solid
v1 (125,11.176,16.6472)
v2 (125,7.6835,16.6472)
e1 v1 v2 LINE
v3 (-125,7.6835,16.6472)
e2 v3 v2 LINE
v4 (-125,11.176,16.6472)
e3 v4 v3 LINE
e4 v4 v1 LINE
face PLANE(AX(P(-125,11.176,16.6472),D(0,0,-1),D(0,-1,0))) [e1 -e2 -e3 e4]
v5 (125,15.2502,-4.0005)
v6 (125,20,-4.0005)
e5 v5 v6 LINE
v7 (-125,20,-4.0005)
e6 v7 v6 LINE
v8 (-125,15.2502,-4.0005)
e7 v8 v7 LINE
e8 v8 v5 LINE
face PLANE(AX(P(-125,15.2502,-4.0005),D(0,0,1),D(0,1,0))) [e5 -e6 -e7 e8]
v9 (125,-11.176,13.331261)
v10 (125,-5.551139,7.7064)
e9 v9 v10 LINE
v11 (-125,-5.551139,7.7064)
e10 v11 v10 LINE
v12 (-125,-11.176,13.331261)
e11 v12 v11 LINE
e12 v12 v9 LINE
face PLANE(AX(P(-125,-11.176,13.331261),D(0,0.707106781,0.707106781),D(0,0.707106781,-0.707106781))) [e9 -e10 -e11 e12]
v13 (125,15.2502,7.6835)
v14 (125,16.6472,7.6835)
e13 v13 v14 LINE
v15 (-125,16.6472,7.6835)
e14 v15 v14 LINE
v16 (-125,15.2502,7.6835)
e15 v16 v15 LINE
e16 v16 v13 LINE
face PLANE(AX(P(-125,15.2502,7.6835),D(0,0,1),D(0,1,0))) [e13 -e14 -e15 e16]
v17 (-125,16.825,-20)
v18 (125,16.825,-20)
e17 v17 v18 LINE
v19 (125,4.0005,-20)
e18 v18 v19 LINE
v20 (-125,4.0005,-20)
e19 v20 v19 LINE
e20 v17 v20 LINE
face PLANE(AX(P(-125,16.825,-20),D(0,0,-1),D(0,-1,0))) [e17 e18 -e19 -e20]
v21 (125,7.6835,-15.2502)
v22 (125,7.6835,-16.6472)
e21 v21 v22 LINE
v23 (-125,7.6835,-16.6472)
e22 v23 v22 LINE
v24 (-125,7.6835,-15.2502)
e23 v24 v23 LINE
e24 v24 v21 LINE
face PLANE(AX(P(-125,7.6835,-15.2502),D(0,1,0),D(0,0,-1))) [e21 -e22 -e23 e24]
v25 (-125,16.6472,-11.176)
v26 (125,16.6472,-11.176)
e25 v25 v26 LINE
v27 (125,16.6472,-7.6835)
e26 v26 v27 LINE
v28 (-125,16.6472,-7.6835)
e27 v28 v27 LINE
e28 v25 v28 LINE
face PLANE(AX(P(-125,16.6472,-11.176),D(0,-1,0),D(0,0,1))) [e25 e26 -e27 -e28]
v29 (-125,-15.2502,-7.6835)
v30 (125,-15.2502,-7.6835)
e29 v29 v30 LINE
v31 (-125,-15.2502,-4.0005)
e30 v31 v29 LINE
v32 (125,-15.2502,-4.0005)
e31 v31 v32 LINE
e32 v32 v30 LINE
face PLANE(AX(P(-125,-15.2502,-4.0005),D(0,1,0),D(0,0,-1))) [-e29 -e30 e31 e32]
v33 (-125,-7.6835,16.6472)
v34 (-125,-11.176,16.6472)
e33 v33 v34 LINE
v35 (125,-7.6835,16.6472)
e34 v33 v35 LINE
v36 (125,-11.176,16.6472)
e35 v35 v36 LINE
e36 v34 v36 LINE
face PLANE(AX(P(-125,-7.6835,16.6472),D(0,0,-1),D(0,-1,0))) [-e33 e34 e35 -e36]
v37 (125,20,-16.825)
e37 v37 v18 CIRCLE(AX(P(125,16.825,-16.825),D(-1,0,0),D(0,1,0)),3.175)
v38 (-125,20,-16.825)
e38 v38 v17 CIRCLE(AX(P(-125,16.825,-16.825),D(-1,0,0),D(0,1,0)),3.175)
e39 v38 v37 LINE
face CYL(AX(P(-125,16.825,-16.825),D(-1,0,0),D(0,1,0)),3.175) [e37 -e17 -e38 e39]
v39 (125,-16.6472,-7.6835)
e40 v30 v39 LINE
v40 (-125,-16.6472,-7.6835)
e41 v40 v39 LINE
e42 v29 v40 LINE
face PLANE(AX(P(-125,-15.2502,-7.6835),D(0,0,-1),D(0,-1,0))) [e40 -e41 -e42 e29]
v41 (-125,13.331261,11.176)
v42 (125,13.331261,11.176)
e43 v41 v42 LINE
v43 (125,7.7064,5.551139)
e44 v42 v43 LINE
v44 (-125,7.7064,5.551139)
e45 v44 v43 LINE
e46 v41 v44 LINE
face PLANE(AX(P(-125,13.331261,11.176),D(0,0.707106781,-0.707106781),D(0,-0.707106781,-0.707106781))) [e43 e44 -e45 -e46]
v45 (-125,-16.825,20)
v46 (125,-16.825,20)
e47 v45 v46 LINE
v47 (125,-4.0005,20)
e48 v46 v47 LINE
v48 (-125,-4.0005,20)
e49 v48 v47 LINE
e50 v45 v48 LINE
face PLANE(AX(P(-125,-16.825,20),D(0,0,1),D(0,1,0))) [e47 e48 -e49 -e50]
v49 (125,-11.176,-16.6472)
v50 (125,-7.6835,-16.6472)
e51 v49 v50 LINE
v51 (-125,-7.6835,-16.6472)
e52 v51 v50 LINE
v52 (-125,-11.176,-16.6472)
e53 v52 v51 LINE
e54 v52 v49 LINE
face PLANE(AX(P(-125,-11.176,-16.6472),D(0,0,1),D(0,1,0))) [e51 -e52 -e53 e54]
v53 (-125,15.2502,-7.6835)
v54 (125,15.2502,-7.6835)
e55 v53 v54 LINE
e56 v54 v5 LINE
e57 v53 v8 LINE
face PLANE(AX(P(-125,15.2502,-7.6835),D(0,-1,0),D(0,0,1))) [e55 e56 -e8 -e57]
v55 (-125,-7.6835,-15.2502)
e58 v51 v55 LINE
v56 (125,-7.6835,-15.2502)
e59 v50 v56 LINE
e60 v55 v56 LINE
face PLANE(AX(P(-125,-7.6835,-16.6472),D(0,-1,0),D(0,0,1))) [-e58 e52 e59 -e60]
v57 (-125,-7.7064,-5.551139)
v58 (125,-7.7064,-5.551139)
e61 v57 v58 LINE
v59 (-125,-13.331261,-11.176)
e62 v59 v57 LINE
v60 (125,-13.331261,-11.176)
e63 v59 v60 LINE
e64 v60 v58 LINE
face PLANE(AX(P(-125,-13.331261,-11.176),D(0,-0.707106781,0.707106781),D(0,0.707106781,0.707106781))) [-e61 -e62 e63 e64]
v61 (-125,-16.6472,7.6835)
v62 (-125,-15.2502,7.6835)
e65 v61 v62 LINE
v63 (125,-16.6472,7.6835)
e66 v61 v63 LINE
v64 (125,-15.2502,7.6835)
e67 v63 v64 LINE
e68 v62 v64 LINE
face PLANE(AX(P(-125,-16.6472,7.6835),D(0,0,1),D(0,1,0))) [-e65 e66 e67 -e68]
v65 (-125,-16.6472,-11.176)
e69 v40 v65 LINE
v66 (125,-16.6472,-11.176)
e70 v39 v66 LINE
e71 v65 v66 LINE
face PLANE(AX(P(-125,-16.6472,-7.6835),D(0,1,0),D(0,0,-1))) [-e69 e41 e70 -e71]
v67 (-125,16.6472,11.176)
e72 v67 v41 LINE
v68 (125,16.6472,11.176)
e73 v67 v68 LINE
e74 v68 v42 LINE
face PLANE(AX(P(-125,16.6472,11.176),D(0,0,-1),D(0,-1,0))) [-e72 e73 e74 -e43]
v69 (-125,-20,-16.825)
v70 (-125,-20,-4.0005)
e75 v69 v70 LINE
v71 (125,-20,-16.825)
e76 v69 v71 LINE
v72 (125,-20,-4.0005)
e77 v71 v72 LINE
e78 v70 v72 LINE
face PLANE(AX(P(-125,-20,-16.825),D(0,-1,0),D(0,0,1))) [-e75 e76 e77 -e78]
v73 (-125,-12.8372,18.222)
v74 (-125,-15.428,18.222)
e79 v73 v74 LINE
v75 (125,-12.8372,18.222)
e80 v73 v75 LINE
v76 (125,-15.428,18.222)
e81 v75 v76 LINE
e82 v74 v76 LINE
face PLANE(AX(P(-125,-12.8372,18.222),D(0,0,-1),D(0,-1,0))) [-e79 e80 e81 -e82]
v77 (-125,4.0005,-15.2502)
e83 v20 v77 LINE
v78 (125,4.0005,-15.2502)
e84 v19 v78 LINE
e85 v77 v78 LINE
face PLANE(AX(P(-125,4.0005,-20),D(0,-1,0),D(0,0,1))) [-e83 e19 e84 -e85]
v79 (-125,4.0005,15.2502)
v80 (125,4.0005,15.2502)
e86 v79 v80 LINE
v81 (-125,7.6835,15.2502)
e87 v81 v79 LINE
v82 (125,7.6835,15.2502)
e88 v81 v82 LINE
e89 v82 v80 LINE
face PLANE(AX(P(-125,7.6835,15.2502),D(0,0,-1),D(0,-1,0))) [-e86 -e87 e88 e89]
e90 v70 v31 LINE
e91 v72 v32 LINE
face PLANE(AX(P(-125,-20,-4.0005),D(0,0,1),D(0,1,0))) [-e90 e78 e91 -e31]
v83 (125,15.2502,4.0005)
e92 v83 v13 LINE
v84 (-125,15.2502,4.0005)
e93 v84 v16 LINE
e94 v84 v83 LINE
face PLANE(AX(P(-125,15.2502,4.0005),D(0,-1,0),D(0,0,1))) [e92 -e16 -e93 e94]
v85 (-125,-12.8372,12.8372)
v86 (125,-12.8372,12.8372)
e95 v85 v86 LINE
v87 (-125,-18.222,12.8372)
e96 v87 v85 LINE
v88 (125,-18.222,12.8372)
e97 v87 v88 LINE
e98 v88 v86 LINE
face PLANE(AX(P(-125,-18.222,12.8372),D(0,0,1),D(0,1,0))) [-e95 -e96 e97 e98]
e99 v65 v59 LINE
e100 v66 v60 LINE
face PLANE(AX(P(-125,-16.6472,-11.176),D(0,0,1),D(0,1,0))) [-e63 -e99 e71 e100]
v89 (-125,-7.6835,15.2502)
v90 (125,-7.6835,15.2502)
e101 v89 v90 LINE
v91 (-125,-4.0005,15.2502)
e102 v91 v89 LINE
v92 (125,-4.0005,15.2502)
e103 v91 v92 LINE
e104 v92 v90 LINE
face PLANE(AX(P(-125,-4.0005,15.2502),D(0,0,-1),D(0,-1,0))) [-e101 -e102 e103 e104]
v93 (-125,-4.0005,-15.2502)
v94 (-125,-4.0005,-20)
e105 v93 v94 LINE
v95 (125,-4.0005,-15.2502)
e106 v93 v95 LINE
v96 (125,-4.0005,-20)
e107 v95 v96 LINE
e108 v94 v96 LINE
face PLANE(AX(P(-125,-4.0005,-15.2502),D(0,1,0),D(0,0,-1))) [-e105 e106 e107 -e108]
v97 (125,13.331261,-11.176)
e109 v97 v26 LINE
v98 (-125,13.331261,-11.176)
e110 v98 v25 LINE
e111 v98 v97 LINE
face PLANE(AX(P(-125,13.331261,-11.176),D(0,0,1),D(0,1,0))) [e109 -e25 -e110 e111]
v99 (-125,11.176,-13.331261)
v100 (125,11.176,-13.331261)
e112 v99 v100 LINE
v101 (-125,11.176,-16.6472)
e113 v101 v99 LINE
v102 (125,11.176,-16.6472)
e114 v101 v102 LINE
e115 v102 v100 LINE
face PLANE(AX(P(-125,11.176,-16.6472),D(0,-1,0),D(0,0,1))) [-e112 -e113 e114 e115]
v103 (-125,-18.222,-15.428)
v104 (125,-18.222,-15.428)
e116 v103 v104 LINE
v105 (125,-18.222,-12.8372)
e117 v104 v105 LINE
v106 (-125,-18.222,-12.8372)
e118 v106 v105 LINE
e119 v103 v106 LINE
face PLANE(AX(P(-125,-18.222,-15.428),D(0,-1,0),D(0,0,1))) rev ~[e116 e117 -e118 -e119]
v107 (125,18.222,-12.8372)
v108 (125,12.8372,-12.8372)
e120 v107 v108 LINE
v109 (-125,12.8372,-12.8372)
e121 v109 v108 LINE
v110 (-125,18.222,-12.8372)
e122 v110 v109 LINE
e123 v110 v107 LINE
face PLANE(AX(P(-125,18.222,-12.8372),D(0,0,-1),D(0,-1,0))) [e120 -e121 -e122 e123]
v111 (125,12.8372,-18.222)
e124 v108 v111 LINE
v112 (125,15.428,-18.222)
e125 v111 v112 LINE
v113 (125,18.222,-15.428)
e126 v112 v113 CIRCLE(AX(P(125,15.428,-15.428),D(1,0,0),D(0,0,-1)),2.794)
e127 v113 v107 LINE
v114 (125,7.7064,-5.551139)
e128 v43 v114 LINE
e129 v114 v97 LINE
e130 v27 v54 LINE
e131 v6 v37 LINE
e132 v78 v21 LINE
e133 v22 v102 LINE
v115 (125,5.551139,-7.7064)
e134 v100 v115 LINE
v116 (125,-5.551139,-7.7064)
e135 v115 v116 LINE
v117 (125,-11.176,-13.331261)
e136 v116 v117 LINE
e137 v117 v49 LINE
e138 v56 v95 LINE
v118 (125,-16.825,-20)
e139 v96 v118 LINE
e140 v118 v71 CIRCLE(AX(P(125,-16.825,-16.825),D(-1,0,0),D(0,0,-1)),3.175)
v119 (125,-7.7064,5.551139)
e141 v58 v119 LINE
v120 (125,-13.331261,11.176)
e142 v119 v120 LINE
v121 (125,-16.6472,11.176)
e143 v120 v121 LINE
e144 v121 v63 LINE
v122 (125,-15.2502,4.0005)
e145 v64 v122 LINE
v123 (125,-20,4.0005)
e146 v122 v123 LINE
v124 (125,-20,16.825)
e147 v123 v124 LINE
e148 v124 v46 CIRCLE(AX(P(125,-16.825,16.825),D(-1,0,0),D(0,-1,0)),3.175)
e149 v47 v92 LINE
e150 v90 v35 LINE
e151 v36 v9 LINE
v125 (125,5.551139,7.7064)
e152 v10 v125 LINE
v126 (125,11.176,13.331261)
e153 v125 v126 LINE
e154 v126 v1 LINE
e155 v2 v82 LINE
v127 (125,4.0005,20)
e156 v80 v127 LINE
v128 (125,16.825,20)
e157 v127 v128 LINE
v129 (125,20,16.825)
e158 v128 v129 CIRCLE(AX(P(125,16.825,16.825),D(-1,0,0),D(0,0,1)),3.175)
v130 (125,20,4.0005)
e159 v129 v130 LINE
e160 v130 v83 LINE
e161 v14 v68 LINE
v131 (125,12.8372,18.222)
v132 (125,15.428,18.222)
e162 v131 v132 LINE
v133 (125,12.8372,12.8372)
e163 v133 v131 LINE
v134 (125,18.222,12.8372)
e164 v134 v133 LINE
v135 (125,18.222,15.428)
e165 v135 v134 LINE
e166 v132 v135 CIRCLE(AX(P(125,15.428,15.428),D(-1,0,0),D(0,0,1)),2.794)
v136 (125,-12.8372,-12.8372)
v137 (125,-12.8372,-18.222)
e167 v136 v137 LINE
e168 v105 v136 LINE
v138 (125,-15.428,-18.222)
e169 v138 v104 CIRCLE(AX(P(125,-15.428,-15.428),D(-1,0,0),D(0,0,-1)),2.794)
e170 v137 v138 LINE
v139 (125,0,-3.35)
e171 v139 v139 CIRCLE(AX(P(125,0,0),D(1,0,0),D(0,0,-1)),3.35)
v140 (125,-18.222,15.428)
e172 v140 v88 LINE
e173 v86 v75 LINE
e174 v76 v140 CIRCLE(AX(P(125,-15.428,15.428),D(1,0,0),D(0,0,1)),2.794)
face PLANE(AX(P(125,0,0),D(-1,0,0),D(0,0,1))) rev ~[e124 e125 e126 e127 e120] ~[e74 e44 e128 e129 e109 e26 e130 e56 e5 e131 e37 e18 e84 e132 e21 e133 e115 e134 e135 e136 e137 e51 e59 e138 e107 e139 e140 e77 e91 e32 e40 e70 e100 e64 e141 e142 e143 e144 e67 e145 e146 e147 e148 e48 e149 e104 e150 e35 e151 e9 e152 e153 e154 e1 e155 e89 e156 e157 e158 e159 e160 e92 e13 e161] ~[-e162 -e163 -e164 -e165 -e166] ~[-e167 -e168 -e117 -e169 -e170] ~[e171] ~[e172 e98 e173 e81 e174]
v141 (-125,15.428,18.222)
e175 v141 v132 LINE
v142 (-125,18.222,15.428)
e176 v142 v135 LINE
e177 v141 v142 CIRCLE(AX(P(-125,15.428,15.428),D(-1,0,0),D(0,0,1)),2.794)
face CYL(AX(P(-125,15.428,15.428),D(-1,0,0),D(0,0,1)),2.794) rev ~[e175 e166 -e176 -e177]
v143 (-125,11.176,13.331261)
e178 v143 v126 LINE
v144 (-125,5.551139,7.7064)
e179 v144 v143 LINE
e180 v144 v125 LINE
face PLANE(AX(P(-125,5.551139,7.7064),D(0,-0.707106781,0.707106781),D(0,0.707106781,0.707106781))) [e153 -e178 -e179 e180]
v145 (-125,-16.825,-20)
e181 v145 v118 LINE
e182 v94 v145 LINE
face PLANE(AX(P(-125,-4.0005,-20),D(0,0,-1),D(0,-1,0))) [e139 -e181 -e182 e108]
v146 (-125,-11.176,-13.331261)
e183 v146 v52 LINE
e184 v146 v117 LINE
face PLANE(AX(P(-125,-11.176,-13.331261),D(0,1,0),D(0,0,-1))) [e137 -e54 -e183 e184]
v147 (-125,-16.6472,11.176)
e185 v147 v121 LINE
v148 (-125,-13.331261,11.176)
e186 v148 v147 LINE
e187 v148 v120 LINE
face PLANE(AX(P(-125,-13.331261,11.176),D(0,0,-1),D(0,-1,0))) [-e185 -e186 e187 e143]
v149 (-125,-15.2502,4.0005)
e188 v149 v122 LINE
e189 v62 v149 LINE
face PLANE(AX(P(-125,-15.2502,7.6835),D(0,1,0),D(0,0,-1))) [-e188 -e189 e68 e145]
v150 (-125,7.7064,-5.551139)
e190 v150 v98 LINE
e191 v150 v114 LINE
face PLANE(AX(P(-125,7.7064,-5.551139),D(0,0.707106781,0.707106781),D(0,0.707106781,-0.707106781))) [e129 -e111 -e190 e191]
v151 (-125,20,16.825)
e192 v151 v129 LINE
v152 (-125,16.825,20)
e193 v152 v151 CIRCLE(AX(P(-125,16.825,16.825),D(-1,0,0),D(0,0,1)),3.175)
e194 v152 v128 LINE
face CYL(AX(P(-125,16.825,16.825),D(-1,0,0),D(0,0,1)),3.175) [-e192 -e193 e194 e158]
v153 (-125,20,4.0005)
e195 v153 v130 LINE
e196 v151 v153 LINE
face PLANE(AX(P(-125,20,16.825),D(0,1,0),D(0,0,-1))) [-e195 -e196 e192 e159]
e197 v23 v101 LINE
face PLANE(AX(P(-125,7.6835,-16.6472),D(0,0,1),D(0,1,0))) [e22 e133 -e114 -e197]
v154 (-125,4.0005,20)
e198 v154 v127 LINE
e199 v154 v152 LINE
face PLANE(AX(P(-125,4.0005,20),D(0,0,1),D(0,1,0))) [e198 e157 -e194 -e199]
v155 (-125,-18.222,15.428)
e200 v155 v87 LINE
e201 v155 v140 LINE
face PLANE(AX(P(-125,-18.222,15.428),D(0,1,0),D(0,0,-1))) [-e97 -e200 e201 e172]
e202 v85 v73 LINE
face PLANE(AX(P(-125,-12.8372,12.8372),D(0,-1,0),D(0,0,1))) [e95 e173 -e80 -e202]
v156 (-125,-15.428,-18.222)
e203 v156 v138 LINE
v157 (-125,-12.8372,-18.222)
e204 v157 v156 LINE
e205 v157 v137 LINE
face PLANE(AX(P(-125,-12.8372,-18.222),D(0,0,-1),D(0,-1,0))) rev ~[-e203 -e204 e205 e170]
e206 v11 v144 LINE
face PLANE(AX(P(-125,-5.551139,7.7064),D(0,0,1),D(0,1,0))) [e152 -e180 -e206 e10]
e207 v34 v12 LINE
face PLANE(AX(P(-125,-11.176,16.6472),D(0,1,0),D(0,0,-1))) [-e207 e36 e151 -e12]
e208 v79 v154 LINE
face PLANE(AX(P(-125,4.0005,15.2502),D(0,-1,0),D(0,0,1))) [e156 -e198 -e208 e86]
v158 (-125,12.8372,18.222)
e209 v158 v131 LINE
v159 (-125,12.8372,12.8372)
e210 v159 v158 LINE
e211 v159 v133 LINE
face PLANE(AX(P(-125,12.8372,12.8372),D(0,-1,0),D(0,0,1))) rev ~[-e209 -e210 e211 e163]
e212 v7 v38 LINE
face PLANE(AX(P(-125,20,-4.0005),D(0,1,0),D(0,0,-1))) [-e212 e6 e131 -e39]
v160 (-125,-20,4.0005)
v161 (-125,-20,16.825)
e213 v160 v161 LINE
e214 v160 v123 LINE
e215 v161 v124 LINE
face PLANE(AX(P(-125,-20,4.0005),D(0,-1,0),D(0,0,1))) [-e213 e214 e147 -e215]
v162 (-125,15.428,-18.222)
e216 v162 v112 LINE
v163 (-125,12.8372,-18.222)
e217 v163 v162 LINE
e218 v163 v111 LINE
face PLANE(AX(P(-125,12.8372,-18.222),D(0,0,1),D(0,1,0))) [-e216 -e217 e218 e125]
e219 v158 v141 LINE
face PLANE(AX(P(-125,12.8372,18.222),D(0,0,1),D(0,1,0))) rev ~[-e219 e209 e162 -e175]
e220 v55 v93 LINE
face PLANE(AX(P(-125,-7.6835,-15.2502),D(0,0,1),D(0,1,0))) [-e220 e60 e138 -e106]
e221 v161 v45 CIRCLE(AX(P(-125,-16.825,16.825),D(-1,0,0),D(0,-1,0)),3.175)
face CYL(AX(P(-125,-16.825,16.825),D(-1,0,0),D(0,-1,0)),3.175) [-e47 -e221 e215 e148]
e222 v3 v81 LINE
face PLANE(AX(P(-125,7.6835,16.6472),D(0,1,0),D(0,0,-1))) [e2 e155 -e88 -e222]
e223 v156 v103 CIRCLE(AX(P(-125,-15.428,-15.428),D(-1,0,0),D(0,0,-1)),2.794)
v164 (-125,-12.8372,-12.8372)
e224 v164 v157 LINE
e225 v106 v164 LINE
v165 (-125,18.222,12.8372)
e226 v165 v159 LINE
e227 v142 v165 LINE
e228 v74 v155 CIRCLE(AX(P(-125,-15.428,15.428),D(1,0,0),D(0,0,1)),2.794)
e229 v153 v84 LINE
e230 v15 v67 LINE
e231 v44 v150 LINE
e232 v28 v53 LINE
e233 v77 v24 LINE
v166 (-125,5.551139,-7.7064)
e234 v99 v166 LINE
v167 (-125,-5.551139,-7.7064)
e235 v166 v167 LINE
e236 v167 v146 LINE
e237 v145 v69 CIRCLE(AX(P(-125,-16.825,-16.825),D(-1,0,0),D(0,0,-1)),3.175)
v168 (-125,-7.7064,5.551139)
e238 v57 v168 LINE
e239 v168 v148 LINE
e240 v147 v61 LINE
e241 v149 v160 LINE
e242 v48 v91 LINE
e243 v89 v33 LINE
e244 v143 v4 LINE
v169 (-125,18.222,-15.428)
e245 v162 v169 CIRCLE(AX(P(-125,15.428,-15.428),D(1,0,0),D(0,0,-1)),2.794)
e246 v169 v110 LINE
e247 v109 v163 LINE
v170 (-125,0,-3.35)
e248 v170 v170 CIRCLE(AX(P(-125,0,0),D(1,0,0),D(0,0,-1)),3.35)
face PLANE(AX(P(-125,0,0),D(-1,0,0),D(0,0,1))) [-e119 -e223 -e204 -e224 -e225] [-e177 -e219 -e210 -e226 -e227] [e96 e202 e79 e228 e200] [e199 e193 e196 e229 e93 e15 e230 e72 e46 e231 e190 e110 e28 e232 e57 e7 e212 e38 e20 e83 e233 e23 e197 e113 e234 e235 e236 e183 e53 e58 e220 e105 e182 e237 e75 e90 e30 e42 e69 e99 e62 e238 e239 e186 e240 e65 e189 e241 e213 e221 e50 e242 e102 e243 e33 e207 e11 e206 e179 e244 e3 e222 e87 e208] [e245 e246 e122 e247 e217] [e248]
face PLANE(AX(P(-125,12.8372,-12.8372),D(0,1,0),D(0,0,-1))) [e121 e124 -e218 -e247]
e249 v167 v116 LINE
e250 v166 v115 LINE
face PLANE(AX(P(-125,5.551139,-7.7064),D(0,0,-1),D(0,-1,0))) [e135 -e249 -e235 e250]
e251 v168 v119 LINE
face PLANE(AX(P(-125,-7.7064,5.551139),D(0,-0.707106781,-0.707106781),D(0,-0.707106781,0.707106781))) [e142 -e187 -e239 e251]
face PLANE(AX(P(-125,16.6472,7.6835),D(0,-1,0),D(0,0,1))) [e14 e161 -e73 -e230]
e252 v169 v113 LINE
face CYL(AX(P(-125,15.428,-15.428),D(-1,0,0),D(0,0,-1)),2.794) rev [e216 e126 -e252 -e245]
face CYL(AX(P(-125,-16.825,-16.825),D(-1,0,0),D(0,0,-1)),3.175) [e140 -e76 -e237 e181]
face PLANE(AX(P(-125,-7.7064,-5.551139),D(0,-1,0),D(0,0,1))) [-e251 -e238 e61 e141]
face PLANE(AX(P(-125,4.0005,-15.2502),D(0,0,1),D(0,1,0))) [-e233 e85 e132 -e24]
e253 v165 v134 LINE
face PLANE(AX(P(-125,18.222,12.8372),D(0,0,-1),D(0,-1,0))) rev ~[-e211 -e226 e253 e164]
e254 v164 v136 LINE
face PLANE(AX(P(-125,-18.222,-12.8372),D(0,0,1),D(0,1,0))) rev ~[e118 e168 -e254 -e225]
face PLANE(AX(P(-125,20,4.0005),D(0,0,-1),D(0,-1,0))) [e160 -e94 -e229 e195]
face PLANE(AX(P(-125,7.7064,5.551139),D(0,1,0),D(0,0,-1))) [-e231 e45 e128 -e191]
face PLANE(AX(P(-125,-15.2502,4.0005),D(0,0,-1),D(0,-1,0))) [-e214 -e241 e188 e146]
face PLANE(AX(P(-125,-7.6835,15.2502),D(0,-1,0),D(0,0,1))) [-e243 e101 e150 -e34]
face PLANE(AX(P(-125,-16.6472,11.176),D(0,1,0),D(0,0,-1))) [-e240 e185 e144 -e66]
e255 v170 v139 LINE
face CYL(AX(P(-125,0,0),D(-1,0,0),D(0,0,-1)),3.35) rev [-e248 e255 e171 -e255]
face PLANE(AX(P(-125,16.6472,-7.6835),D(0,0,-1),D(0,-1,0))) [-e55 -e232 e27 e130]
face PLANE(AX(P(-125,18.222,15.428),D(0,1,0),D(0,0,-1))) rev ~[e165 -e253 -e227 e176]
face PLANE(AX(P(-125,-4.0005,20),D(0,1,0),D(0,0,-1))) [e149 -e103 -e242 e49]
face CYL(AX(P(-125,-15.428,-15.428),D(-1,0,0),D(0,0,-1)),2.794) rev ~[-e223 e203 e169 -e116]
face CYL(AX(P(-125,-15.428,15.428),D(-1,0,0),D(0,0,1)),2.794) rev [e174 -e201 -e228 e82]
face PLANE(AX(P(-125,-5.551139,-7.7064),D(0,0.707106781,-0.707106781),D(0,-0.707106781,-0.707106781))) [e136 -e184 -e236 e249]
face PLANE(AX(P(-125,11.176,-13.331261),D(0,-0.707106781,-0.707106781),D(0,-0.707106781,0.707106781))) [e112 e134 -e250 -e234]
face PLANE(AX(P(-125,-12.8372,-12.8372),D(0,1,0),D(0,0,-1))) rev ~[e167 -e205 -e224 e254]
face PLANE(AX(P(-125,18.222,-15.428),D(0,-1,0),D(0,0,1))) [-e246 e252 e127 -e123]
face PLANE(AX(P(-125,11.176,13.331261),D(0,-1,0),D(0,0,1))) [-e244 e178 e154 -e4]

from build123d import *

# Parameters (mm, degrees)
SKETCH2_R                            = 3.35
F_40_SERIES_TS40_40LM_650033_1_DEPTH = 250


with BuildPart() as part:
    # Sketch2 → 40 series TS40-40LM-650033(1) (new body)
    with BuildSketch(Plane(origin=(-125, 0, 0), x_dir=(0, 0, -1), z_dir=(1, 0, 0))):
        with BuildLine():
            Line((-7.7064, 0), (-7.7064, 5.551138531))
            Line((-7.7064, 5.551138531), (-13.331261469, 11.176))
            Line((-13.331261469, 11.176), (-16.6472, 11.176))
            Line((-16.6472, 11.176), (-16.6472, 7.6835))
            Line((-16.6472, 7.6835), (-15.2502, 7.6835))
            Line((-15.2502, 7.6835), (-15.2502, 4.0005))
            Line((-15.2502, 4.0005), (-20, 4.0005))
            Line((-20, 4.0005), (-20, 16.825))
            ThreePointArc((-20, 16.825), (-19.07006403, 19.07006403), (-16.825, 20))
            Line((-16.825, 20), (-4.0005, 20))
            Line((-4.0005, 20), (-4.0005, 15.2502))
            Line((-4.0005, 15.2502), (-7.6835, 15.2502))
            Line((-7.6835, 15.2502), (-7.6835, 16.6472))
            Line((-7.6835, 16.6472), (-11.176, 16.6472))
            Line((-11.176, 16.6472), (-11.176, 13.331261469))
            Line((-11.176, 13.331261469), (-5.551138531, 7.7064))
            Line((-5.551138531, 7.7064), (0, 7.7064))
            Line((0, 7.7064), (5.551138531, 7.7064))
            Line((5.551138531, 7.7064), (11.176, 13.331261469))
            Line((11.176, 13.331261469), (11.176, 16.6472))
            Line((11.176, 16.6472), (7.6835, 16.6472))
            Line((7.6835, 16.6472), (7.6835, 15.2502))
            Line((7.6835, 15.2502), (4.0005, 15.2502))
            Line((4.0005, 15.2502), (4.0005, 20))
            Line((4.0005, 20), (16.825, 20))
            ThreePointArc((16.825, 20), (19.07006403, 19.07006403), (20, 16.825))
            Line((20, 16.825), (20, 4.0005))
            Line((20, 4.0005), (15.2502, 4.0005))
            Line((15.2502, 4.0005), (15.2502, 7.6835))
            Line((15.2502, 7.6835), (16.6472, 7.6835))
            Line((16.6472, 7.6835), (16.6472, 11.176))
            Line((16.6472, 11.176), (13.331261469, 11.176))
            Line((13.331261469, 11.176), (7.7064, 5.551138531))
            Line((7.7064, 5.551138531), (7.7064, 0))
            Line((7.7064, 0), (7.7064, -5.551138531))
            Line((7.7064, -5.551138531), (13.331261469, -11.176))
            Line((13.331261469, -11.176), (16.6472, -11.176))
            Line((16.6472, -11.176), (16.6472, -7.6835))
            Line((16.6472, -7.6835), (15.2502, -7.6835))
            Line((15.2502, -7.6835), (15.2502, -4.0005))
            Line((15.2502, -4.0005), (20, -4.0005))
            Line((20, -4.0005), (20, -16.825))
            ThreePointArc((20, -16.825), (19.07006403, -19.07006403), (16.825, -20))
            Line((16.825, -20), (4.0005, -20))
            Line((4.0005, -20), (4.0005, -15.2502))
            Line((4.0005, -15.2502), (7.6835, -15.2502))
            Line((7.6835, -15.2502), (7.6835, -16.6472))
            Line((7.6835, -16.6472), (11.176, -16.6472))
            Line((11.176, -16.6472), (11.176, -13.331261469))
            Line((11.176, -13.331261469), (5.551138531, -7.7064))
            Line((5.551138531, -7.7064), (0, -7.7064))
            Line((0, -7.7064), (-5.551138531, -7.7064))
            Line((-5.551138531, -7.7064), (-11.176, -13.331261469))
            Line((-11.176, -13.331261469), (-11.176, -16.6472))
            Line((-11.176, -16.6472), (-7.6835, -16.6472))
            Line((-7.6835, -16.6472), (-7.6835, -15.2502))
            Line((-7.6835, -15.2502), (-4.0005, -15.2502))
            Line((-4.0005, -15.2502), (-4.0005, -20))
            Line((-4.0005, -20), (-16.825, -20))
            ThreePointArc((-16.825, -20), (-19.07006403, -19.07006403), (-20, -16.825))
            Line((-20, -16.825), (-20, -4.0005))
            Line((-20, -4.0005), (-15.2502, -4.0005))
            Line((-15.2502, -4.0005), (-15.2502, -7.6835))
            Line((-15.2502, -7.6835), (-16.6472, -7.6835))
            Line((-16.6472, -7.6835), (-16.6472, -11.176))
            Line((-16.6472, -11.176), (-13.331261469, -11.176))
            Line((-13.331261469, -11.176), (-7.7064, -5.551138531))
            Line((-7.7064, -5.551138531), (-7.7064, 0))
        make_face()
        Circle(SKETCH2_R, mode=Mode.SUBTRACT)
        with BuildLine():
            Line((18.222, 12.8372), (18.222, 15.428))
            ThreePointArc((18.222, 15.428), (17.403656347, 17.403656347), (15.428, 18.222))
            Line((15.428, 18.222), (12.8372, 18.222))
            Line((12.8372, 18.222), (12.8372, 12.8372))
            Line((12.8372, 12.8372), (18.222, 12.8372))
        make_face(mode=Mode.SUBTRACT)
        with BuildLine():
            Line((12.8372, -12.8372), (18.222, -12.8372))
            Line((18.222, -12.8372), (18.222, -15.428))
            ThreePointArc((18.222, -15.428), (17.403656347, -17.403656347), (15.428, -18.222))
            Line((15.428, -18.222), (12.8372, -18.222))
            Line((12.8372, -18.222), (12.8372, -12.8372))
        make_face(mode=Mode.SUBTRACT)
        with BuildLine():
            Line((-18.222, -12.8372), (-18.222, -15.428))
            ThreePointArc((-18.222, -15.428), (-17.403656347, -17.403656347), (-15.428, -18.222))
            Line((-15.428, -18.222), (-12.8372, -18.222))
            Line((-12.8372, -18.222), (-12.8372, -12.8372))
            Line((-12.8372, -12.8372), (-18.222, -12.8372))
        make_face(mode=Mode.SUBTRACT)
        with BuildLine():
            Line((-12.8372, 12.8372), (-18.222, 12.8372))
            Line((-18.222, 12.8372), (-18.222, 15.428))
            ThreePointArc((-18.222, 15.428), (-17.403656347, 17.403656347), (-15.428, 18.222))
            Line((-15.428, 18.222), (-12.8372, 18.222))
            Line((-12.8372, 18.222), (-12.8372, 12.8372))
        make_face(mode=Mode.SUBTRACT)
    extrude(amount=F_40_SERIES_TS40_40LM_650033_1_DEPTH)


solid = part.part
